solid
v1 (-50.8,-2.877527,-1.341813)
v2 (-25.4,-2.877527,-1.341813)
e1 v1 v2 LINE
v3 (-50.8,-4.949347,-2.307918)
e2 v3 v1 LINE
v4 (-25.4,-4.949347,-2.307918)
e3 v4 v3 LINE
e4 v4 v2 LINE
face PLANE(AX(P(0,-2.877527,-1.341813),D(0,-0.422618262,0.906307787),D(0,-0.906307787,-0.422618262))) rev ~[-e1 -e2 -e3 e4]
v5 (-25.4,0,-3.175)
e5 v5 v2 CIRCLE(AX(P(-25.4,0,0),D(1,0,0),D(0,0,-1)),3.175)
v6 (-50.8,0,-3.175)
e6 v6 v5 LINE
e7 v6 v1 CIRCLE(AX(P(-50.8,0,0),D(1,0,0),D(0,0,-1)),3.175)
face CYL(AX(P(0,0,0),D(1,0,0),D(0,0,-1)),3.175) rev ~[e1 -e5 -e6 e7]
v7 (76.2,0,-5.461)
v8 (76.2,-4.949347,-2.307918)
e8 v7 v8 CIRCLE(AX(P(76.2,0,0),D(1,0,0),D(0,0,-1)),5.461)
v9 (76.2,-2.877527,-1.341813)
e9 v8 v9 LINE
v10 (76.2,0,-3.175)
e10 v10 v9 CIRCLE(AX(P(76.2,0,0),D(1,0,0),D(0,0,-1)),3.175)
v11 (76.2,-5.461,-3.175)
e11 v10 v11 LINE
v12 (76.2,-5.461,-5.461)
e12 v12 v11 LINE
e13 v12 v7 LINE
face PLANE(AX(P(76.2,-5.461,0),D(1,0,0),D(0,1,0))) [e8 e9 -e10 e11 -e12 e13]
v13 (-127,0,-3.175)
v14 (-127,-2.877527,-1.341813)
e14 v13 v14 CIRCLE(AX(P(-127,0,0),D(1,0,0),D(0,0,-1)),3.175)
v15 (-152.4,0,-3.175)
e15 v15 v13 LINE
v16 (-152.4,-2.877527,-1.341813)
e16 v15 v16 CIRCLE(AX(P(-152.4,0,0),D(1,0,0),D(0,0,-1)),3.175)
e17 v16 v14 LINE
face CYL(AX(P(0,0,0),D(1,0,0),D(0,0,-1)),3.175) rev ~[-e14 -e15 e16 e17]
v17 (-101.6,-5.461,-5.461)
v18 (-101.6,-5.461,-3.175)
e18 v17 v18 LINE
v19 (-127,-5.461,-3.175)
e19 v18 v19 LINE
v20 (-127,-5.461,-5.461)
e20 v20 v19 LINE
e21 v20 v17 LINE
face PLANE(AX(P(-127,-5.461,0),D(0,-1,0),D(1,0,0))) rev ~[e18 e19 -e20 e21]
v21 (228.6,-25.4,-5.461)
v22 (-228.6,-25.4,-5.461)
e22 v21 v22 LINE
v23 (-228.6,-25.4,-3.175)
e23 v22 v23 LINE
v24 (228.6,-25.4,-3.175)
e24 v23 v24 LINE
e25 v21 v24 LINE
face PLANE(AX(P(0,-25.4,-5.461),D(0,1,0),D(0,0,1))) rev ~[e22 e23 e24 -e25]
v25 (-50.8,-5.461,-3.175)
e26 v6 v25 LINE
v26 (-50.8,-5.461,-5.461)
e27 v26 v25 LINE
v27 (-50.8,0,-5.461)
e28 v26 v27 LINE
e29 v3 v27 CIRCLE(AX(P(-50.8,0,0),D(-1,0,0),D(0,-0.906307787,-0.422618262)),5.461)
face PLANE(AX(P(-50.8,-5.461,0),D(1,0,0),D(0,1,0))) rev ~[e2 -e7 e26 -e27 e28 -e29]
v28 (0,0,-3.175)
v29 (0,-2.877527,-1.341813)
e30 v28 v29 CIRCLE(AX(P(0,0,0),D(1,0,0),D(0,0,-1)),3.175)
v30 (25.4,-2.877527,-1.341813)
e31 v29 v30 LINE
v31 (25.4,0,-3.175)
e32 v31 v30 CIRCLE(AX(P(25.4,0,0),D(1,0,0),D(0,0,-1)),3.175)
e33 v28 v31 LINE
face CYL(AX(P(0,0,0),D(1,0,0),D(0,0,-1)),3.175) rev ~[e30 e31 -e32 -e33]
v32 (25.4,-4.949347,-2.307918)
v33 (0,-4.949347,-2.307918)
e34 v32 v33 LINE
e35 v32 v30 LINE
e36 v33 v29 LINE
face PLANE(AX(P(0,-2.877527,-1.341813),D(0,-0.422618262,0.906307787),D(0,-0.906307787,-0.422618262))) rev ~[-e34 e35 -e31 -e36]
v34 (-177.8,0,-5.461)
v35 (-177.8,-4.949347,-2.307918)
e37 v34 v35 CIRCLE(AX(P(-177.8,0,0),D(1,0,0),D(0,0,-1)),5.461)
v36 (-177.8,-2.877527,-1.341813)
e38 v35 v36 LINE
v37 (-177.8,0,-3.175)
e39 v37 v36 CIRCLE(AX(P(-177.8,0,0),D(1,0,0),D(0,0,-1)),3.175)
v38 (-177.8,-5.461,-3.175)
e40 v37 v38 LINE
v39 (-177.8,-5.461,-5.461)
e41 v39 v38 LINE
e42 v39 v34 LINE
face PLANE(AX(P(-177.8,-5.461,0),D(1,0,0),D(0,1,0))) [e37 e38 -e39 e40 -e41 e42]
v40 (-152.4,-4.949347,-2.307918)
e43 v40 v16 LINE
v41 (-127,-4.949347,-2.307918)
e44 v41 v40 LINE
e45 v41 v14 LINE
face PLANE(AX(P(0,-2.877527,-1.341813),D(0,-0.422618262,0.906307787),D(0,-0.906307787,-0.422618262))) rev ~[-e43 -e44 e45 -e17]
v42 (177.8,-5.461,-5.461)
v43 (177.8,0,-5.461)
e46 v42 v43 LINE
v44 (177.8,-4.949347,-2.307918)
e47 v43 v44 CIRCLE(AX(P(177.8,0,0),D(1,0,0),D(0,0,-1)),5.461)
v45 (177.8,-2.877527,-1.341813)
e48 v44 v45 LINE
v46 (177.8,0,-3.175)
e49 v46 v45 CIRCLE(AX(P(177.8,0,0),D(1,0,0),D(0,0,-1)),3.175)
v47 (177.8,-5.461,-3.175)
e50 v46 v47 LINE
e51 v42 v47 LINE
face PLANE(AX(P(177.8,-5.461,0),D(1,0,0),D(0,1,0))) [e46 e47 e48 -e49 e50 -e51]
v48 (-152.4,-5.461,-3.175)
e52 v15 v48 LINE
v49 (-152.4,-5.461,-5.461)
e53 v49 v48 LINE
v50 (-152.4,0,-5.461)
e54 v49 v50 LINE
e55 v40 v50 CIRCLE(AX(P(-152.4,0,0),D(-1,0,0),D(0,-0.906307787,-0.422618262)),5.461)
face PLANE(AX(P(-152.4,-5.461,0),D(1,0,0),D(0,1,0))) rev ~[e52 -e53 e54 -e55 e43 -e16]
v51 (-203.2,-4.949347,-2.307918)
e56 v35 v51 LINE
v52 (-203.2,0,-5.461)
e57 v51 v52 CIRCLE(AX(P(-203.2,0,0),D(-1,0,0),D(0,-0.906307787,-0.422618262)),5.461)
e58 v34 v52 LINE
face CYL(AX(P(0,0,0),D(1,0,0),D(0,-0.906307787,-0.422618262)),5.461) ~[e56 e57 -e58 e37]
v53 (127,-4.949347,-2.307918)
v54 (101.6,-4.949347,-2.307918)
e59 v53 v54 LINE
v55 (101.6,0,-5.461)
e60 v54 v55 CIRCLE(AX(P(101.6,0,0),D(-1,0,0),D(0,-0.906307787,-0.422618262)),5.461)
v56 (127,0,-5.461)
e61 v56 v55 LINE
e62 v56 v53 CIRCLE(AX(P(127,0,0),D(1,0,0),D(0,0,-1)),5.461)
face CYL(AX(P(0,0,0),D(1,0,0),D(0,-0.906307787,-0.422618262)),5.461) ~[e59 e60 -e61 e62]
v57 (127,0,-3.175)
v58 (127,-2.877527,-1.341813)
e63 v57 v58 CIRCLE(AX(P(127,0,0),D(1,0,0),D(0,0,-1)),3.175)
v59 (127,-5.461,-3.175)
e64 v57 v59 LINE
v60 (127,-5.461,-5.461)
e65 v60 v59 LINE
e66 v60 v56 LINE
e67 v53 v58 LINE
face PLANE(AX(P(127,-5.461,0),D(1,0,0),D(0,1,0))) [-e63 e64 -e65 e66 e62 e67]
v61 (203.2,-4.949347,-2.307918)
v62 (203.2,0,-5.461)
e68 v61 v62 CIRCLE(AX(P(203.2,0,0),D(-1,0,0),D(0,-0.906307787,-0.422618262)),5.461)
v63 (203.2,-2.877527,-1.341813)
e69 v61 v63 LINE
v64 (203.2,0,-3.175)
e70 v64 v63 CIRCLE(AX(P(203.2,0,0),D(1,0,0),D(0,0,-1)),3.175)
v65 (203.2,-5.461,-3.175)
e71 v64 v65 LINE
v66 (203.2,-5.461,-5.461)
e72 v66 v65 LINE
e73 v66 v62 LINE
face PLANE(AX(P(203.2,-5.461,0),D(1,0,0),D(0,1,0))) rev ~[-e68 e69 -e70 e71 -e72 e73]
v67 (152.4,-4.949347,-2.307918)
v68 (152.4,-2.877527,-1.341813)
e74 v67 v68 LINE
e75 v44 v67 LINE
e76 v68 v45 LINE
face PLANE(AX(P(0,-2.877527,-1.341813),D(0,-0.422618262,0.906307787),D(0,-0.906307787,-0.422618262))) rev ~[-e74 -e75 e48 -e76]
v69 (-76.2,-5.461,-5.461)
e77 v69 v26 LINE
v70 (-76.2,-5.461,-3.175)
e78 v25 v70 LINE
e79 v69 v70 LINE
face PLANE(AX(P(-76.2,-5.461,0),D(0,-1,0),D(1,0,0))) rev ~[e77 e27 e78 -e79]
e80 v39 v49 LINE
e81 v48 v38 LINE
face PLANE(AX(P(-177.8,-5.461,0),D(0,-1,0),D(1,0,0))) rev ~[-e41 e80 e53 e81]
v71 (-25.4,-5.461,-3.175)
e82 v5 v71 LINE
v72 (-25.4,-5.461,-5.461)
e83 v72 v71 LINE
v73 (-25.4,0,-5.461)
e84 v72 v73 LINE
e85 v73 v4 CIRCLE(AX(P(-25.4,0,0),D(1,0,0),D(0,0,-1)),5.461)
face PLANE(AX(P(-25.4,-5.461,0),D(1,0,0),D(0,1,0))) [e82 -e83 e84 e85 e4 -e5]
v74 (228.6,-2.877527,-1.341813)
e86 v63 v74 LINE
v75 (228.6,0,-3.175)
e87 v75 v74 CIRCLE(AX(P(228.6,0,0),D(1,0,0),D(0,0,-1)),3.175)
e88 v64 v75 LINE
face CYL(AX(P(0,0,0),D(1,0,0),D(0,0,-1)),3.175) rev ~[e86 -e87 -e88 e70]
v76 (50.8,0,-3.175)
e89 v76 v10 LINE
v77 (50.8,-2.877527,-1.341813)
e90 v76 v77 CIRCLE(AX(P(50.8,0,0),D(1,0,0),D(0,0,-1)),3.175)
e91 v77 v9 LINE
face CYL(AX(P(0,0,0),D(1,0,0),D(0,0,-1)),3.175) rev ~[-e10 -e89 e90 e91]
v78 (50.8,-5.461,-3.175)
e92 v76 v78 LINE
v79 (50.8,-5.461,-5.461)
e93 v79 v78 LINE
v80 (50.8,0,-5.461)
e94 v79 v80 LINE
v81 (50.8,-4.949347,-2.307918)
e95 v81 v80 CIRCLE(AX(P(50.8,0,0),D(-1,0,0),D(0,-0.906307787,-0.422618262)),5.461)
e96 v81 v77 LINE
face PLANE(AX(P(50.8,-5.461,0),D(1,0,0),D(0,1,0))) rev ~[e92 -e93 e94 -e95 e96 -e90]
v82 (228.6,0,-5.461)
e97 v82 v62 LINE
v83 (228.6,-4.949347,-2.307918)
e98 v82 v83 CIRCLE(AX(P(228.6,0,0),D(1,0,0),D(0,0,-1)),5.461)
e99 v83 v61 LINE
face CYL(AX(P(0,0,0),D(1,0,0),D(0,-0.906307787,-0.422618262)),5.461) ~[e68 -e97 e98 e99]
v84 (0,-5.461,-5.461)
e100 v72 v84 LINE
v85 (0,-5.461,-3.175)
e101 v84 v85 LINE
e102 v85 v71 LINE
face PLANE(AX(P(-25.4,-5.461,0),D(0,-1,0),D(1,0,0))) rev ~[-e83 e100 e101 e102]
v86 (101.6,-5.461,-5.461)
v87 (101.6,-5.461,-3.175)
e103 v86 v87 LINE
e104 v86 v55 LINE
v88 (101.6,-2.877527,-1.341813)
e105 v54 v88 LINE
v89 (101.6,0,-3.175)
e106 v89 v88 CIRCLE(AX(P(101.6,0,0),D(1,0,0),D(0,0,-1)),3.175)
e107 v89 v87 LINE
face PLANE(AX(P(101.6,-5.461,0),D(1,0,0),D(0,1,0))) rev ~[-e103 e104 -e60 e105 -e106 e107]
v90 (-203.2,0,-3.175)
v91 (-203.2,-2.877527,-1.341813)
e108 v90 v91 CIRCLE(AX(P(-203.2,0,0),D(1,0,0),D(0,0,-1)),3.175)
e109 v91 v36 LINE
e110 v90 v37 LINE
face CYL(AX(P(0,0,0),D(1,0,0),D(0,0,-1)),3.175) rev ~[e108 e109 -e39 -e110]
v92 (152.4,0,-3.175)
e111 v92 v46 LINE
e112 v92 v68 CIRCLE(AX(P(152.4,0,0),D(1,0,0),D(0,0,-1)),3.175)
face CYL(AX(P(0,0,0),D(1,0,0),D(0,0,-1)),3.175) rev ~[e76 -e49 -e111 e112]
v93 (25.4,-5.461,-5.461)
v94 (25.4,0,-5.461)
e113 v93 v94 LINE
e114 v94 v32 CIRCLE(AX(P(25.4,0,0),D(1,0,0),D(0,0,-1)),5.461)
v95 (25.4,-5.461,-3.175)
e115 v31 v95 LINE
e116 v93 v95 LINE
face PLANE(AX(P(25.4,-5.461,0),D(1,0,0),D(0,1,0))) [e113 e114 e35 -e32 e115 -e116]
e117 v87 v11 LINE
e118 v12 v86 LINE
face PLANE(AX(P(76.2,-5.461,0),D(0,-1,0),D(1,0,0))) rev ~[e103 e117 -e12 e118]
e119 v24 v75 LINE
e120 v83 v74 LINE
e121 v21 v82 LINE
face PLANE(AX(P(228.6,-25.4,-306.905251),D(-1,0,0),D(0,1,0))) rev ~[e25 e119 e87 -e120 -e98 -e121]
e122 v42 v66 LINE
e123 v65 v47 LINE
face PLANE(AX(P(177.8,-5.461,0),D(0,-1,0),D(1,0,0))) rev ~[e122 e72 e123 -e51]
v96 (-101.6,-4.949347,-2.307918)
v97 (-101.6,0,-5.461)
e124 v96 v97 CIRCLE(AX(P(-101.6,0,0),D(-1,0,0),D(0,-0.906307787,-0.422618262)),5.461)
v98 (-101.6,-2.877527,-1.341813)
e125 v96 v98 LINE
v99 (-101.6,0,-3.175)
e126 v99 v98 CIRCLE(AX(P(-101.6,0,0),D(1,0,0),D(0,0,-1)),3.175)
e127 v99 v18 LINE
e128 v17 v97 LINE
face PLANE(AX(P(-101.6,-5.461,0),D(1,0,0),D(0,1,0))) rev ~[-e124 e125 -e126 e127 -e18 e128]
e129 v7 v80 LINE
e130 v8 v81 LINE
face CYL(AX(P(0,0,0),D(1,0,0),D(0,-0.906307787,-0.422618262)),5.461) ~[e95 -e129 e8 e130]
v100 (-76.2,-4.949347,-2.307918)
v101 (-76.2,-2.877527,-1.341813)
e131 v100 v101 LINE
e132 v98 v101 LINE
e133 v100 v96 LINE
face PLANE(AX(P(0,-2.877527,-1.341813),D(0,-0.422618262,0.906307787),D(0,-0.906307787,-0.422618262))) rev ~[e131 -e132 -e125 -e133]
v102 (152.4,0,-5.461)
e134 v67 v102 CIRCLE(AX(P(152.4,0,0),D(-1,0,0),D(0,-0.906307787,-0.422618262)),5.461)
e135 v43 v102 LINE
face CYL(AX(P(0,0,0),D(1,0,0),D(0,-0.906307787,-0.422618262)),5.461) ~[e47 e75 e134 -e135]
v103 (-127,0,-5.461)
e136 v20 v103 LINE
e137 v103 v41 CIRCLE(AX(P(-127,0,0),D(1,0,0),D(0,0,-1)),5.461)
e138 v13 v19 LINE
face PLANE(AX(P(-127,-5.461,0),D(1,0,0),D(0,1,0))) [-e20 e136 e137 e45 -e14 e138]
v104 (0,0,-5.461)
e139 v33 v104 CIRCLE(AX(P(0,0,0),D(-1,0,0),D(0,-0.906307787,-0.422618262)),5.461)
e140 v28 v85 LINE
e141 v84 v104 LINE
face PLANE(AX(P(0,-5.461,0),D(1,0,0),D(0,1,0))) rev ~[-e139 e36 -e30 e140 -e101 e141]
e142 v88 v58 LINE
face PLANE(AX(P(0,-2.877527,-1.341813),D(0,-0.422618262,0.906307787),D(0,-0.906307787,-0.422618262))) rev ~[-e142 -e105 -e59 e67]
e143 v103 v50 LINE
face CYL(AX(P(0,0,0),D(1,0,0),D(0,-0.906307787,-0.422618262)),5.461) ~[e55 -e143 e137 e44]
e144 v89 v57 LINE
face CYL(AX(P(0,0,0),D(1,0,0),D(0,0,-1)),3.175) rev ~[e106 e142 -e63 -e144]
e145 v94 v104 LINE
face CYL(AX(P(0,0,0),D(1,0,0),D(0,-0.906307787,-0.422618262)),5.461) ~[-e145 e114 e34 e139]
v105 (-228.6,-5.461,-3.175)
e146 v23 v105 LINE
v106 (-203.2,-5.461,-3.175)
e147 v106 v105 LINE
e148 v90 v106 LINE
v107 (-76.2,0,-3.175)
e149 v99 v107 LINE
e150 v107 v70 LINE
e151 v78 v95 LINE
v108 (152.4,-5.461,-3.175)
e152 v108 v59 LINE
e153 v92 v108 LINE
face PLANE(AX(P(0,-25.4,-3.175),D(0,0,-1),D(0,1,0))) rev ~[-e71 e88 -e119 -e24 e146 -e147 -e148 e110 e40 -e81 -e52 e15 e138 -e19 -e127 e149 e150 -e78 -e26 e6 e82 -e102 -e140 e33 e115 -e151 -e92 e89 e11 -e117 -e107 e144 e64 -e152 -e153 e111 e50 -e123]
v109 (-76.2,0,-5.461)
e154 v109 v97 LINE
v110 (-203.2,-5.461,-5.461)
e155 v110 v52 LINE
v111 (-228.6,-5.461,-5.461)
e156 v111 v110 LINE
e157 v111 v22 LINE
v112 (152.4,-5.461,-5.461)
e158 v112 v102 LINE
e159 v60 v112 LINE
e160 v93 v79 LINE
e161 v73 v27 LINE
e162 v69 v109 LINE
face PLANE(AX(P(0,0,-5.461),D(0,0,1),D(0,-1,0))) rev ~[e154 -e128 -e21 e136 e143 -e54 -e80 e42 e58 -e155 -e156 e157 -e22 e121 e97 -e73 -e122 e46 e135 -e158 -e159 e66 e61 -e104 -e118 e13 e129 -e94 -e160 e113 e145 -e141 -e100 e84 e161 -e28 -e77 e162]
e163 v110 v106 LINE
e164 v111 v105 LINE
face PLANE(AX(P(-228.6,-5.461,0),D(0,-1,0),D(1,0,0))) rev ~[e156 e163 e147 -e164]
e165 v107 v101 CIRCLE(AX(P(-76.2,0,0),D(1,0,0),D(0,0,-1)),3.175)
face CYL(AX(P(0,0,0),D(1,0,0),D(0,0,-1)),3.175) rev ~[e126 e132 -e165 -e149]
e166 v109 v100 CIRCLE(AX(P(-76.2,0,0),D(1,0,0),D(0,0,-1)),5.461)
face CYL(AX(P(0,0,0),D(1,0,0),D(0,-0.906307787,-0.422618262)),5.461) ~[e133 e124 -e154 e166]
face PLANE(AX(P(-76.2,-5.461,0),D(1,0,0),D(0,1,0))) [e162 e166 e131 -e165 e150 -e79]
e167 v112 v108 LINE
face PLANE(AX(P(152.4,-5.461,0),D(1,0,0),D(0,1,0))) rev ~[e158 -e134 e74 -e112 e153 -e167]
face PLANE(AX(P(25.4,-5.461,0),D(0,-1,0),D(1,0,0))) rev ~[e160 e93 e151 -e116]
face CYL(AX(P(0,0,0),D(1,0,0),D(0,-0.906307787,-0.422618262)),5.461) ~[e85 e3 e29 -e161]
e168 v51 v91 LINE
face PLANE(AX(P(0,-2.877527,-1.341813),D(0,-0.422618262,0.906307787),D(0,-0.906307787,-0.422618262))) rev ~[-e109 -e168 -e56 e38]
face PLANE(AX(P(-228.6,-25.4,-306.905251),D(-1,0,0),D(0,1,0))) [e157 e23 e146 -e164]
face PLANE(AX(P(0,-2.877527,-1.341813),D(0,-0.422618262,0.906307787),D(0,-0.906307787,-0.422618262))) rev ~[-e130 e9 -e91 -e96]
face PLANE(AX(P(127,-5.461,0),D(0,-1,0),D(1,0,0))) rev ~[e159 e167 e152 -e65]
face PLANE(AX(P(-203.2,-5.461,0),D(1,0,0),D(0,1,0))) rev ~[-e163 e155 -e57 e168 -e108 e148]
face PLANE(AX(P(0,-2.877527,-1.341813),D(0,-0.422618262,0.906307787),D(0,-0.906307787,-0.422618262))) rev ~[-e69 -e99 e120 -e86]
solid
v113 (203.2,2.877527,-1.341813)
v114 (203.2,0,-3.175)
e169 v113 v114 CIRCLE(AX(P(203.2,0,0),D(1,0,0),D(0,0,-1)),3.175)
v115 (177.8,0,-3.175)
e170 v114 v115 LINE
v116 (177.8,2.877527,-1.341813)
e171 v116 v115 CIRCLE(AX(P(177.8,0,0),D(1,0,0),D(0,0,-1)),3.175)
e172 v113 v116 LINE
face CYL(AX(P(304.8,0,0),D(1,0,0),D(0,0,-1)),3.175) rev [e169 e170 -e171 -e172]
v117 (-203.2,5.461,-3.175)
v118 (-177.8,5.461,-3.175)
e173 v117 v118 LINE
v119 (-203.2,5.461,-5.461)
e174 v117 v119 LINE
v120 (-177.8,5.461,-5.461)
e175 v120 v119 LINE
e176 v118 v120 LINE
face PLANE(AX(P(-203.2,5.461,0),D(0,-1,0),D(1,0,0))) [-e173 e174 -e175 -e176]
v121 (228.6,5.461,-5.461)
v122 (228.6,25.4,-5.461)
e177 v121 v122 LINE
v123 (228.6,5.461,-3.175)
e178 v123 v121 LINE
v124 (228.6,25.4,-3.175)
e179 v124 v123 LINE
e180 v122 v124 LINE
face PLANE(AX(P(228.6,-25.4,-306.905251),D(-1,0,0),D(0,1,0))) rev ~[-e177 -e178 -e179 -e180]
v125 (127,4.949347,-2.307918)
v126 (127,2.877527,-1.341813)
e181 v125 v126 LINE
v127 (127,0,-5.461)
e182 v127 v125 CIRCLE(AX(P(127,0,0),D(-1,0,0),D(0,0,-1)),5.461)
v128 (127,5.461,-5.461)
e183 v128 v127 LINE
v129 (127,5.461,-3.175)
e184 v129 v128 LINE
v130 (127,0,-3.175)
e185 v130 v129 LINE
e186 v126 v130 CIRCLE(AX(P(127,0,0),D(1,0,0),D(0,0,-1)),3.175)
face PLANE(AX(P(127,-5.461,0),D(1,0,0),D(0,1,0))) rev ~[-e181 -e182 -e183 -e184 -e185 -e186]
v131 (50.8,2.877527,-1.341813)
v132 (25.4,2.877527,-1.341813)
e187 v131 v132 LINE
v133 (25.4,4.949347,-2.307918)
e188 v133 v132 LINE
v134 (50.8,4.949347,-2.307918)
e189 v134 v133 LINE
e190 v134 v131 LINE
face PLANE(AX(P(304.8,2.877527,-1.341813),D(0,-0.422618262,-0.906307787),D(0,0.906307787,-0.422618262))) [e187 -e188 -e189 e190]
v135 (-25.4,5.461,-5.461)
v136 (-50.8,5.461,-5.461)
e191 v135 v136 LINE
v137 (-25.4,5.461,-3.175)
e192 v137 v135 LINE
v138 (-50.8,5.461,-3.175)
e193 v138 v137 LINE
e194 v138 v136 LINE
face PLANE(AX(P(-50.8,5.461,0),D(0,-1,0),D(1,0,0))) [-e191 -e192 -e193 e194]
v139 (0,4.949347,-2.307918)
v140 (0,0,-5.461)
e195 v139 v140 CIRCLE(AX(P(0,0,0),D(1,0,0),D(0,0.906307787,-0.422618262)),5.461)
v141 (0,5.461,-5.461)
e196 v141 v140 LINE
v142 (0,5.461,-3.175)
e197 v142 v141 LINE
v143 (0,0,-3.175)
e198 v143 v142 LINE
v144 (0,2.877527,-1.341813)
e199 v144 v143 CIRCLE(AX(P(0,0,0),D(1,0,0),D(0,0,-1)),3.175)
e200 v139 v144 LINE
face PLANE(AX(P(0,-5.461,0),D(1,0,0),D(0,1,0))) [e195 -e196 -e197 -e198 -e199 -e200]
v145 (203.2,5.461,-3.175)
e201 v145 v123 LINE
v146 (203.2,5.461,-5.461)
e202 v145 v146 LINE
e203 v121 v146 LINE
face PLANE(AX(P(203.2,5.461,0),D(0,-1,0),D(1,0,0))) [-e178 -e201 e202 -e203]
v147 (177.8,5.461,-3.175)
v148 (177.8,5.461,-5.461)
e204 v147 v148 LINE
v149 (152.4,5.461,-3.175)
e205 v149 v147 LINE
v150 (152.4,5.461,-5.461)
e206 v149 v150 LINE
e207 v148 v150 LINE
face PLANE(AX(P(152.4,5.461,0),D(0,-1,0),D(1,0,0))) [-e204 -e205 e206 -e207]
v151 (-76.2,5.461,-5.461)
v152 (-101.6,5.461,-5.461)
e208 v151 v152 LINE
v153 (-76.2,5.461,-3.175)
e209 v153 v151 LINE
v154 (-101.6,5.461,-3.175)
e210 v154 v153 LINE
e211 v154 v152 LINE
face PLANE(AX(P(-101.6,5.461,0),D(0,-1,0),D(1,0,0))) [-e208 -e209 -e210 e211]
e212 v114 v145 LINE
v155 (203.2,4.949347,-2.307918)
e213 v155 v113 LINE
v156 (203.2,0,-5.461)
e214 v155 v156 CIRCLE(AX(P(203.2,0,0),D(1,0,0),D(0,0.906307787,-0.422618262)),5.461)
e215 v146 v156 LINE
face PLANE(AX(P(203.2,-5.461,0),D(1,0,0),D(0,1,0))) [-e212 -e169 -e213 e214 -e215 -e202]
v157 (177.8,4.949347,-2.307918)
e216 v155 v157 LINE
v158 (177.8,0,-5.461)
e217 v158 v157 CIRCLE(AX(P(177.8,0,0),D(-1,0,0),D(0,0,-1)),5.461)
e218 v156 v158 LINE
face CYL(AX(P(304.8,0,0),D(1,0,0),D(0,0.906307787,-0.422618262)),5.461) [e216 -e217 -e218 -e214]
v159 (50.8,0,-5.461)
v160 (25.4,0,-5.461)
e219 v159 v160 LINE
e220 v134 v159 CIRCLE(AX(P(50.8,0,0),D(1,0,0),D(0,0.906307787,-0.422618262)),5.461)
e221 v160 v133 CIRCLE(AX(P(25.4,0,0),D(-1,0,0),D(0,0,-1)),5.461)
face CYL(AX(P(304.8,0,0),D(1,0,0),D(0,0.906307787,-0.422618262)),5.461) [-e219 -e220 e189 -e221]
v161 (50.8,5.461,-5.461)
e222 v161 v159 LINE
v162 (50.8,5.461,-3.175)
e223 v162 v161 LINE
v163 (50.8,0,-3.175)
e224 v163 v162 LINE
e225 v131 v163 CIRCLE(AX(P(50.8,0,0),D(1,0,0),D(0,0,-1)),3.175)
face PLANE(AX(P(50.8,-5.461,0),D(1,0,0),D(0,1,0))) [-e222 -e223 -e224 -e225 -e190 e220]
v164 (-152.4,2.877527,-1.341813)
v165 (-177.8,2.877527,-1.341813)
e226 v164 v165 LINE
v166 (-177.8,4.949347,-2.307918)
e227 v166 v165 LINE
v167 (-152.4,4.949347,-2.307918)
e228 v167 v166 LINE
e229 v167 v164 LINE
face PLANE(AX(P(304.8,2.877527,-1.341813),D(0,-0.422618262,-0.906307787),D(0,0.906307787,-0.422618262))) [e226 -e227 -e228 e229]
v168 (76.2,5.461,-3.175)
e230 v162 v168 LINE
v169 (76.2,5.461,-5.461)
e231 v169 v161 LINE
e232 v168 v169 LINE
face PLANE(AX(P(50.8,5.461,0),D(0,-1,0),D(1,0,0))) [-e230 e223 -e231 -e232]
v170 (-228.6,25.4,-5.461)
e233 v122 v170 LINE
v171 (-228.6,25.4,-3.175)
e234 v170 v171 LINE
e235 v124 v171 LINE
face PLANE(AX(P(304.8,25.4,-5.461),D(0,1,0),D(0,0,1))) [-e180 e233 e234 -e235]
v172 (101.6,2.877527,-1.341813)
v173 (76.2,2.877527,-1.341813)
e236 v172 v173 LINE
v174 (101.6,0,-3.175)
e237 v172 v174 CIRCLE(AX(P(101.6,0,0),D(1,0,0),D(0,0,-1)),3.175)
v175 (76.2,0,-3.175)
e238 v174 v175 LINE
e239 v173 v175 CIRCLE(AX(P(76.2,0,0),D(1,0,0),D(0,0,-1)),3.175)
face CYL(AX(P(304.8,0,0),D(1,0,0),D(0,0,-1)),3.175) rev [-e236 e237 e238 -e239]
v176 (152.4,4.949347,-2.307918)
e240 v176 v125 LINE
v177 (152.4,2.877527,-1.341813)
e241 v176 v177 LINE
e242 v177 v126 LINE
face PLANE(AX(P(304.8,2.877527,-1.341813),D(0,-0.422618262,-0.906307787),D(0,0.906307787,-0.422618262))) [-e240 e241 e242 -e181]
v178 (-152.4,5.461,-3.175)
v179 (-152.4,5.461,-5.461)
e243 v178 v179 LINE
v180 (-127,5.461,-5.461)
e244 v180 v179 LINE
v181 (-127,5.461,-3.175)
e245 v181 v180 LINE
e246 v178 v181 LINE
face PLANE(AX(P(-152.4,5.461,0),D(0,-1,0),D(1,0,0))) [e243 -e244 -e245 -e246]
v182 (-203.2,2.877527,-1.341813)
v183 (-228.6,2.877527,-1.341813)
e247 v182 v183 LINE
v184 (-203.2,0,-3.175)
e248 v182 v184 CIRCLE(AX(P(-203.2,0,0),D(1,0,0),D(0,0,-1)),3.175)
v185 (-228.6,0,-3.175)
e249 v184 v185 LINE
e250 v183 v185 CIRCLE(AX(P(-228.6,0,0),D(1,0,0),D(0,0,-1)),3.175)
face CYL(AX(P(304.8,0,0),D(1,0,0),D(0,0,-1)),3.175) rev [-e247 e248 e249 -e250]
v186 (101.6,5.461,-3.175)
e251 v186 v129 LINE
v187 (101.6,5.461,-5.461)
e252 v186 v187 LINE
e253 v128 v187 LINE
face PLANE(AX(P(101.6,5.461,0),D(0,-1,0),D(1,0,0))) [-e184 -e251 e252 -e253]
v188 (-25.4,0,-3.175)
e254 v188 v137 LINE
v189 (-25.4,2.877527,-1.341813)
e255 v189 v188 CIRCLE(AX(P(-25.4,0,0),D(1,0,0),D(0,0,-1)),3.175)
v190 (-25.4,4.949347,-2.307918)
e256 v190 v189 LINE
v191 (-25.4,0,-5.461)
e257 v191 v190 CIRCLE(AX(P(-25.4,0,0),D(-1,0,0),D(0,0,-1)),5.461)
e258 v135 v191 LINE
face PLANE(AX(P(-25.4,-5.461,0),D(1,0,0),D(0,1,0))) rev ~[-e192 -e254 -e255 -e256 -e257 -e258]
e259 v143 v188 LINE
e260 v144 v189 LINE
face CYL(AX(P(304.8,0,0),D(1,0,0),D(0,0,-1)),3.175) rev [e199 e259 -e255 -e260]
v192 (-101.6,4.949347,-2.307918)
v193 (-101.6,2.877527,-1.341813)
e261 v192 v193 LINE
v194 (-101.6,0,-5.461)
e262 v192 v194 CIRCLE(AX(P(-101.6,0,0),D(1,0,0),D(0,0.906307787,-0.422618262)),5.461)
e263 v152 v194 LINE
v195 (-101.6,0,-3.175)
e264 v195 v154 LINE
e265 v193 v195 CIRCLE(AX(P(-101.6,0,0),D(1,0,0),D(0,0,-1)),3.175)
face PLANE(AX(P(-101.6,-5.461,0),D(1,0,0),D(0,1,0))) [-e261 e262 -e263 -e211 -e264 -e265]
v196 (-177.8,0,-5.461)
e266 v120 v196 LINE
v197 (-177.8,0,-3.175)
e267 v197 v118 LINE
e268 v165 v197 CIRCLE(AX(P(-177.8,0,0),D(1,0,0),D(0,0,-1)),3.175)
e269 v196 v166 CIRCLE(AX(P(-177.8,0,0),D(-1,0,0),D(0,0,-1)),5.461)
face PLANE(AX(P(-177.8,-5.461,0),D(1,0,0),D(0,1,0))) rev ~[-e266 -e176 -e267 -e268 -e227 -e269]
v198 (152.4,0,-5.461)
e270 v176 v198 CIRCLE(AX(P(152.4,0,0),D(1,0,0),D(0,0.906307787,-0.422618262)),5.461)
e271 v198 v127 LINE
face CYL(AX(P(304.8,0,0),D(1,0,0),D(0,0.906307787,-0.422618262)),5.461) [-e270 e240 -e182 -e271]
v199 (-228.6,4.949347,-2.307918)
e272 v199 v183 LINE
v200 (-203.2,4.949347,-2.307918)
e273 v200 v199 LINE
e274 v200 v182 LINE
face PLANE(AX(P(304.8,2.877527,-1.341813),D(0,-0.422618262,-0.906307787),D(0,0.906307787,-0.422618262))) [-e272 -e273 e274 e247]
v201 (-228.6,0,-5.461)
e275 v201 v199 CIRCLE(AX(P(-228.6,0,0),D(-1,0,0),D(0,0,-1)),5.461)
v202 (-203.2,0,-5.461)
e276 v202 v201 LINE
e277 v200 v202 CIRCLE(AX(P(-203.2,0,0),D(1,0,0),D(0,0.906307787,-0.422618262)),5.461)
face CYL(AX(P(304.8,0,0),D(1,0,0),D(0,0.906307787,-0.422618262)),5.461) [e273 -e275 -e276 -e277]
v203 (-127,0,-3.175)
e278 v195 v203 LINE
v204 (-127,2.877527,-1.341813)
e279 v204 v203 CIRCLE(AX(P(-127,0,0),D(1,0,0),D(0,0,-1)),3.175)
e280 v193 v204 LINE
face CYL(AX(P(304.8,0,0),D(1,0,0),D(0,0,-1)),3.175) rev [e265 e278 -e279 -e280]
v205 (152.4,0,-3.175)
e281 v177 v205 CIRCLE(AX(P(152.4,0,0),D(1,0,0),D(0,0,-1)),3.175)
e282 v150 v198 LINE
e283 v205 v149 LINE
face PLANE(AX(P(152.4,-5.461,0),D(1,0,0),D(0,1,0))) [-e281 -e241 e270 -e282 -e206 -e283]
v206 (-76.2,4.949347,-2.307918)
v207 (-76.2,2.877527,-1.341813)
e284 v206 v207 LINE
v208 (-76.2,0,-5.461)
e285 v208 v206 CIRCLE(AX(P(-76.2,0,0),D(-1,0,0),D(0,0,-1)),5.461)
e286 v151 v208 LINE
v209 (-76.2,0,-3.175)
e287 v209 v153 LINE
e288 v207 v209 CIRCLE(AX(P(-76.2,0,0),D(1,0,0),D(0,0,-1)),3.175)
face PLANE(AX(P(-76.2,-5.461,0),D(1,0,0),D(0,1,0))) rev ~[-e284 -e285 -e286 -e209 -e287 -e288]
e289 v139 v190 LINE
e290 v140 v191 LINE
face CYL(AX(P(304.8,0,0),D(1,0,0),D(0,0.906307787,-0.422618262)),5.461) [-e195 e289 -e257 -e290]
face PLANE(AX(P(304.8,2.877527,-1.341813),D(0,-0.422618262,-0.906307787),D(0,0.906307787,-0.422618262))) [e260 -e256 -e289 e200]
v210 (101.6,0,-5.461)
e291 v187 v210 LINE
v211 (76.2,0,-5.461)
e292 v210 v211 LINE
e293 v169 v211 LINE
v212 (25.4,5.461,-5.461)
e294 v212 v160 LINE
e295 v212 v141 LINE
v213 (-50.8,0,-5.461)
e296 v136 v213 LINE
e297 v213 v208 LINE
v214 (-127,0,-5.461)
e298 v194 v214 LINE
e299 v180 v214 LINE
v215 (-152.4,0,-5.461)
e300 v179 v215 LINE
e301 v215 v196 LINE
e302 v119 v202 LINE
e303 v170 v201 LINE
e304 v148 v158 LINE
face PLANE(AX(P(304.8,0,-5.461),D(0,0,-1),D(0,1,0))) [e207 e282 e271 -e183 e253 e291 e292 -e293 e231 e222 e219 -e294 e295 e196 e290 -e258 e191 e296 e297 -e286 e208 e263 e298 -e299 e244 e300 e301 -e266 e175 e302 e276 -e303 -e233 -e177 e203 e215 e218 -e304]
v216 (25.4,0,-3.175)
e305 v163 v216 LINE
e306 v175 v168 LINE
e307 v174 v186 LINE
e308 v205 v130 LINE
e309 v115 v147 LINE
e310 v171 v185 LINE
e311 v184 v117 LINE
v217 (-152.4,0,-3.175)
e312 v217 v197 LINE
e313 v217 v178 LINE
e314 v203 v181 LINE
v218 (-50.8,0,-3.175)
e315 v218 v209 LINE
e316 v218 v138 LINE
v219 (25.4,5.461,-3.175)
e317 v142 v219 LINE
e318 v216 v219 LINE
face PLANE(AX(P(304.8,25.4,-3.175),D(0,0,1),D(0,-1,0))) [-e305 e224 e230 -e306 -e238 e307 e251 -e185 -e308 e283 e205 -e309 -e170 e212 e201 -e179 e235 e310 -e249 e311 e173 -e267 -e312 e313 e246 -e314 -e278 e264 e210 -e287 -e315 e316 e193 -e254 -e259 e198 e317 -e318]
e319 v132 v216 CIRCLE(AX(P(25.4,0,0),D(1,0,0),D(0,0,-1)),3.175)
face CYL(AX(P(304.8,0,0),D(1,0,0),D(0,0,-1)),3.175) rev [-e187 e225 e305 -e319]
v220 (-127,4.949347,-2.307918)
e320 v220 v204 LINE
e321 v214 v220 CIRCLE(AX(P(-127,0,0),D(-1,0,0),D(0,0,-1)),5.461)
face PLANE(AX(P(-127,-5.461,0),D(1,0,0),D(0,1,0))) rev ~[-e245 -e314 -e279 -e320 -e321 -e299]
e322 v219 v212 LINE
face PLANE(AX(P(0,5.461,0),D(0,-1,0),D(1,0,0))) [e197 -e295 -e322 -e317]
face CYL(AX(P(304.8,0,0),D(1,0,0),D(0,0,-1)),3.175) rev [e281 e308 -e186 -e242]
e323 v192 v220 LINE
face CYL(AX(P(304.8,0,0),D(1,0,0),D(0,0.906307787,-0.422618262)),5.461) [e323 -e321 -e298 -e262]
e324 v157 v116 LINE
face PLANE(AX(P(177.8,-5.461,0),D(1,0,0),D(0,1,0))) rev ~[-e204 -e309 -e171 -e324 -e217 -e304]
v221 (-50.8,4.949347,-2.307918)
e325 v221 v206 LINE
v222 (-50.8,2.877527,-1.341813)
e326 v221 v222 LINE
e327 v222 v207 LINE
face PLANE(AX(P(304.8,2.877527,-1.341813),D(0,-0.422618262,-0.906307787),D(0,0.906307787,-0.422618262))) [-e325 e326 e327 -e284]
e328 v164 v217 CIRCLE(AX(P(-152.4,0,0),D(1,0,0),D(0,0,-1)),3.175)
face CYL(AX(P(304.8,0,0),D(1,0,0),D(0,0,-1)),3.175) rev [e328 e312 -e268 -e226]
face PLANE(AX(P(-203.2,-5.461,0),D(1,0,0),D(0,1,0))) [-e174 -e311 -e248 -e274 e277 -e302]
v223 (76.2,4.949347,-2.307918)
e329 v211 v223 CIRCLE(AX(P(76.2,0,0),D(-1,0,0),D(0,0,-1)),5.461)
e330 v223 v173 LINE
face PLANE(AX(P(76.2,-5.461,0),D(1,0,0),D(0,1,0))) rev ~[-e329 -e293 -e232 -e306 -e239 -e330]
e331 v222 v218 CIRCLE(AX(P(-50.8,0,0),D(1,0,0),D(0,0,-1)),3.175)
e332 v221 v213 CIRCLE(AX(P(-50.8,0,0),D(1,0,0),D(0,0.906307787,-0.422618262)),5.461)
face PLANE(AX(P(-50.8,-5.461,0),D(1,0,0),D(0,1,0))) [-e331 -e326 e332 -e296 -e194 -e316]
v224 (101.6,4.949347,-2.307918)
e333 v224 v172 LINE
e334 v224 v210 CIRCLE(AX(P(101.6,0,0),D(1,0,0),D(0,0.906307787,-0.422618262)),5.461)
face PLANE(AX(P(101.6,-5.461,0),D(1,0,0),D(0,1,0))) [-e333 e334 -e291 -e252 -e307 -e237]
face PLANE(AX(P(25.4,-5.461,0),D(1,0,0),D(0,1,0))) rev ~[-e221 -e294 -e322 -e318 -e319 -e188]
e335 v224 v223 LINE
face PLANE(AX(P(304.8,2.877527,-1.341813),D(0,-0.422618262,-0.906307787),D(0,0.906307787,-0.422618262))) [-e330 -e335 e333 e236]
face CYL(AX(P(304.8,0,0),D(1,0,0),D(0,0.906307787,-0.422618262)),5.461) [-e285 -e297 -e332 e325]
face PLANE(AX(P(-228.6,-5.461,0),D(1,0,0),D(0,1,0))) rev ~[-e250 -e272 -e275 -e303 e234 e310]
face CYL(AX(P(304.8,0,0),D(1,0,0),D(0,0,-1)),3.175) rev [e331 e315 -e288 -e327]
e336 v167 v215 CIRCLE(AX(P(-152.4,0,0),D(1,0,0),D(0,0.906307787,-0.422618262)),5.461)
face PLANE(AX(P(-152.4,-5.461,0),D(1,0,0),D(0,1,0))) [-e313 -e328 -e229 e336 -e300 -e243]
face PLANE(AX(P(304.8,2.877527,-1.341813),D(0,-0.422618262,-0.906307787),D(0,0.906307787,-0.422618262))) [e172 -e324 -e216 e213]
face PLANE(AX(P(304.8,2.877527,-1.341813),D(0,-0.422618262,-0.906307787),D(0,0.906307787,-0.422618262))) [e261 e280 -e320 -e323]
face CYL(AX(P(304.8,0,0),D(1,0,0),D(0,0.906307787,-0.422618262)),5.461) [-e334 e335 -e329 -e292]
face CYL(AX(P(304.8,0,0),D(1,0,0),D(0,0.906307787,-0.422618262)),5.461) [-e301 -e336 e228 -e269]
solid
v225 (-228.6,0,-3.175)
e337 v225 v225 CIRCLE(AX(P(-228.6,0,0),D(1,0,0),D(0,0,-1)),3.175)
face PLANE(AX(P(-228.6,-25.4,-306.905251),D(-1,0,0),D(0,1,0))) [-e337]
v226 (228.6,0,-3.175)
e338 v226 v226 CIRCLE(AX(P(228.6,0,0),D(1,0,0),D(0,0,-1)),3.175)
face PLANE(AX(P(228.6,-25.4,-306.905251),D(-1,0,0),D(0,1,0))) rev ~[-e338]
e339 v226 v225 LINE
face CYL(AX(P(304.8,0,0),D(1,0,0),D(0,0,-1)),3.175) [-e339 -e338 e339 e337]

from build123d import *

# Parameters (mm, degrees)
BOSS_EXTRUDE1_DEPTH     = 304.8
SKETCH4_W               = 25.4
SKETCH4_H               = 10.922
CUT_EXTRUDE1_DEPTH      = 306.905250888
LPATTERN1_COUNT         = 12
LPATTERN1_PITCH         = 50.8
BOSS_EXTRUDE2_DEPTH     = 609.6
SKETCH6_W               = 25.4
SKETCH6_H               = 10.922
CUT_EXTRUDE2_DEPTH      = 306.905250888
LPATTERN2_COUNT         = 12
LPATTERN2_PITCH         = 50.8
SKETCH7_R               = 3.175
BOSS_EXTRUDE3_DEPTH     = 609.6
CHAMFER1_SIZE           = 0.635
CUT_EXTRUDE3_DEPTH      = 306.905250888
CUT_EXTRUDE3_DEPTH_BACK = 306.905250888
SKETCH8_OUTSIDE_W       = 733.962
SKETCH8_OUTSIDE_H       = 175.162
SKETCH8_OUTSIDE_W_2     = 457.2
SKETCH8_OUTSIDE_H_2     = 50.8


with BuildPart() as part:
    # Sketch3 → Boss-Extrude1 (new, symmetric)
    with BuildSketch(Plane(origin=(0, 0, 0), x_dir=(0, 0, -1), z_dir=(1, 0, 0))):
        with BuildLine():
            Line((1.341812981, -2.877527224), (2.307918327, -4.949346825))
            ThreePointArc((2.307918327, -4.949346825), (-4.605760686, 2.934193161), (5.461, 0))
            Line((5.461, 0), (5.461, -25.4))
            Line((5.461, -25.4), (3.175, -25.4))
            Line((3.175, -25.4), (3.175, -4.443185344))
            Line((3.175, -4.443185344), (3.175, 0))
            ThreePointArc((3.175, 0), (-2.67776784, 1.705926257), (1.341812981, -2.877527224))
        make_face()
    extrude(amount=BOSS_EXTRUDE1_DEPTH, both=True)

    # Sketch4 → Cut-Extrude1 (cut, symmetric)
    with BuildSketch(Plane.XY):
        with Locations((292.1, 0)):
            Rectangle(SKETCH4_W, SKETCH4_H)
    cut_extrude1 = extrude(amount=CUT_EXTRUDE1_DEPTH, both=True, mode=Mode.SUBTRACT)

    # LPattern1: Cut-Extrude1 ×12
    with Locations(*[(-i * LPATTERN1_PITCH, 0, 0) for i in range(1, LPATTERN1_COUNT)]):
        add(cut_extrude1, mode=Mode.SUBTRACT)


with BuildPart() as body_2:
    # Sketch5 → Boss-Extrude2 (new body)
    with BuildSketch(Plane(origin=(304.8, 0, 0), x_dir=(0, 0, -1), z_dir=(1, 0, 0))):
        with BuildLine():
            Line((3.175, 25.4), (3.175, 4.443185344))
            Line((3.175, 4.443185344), (3.175, 0))
            ThreePointArc((3.175, 0), (-2.67776784, -1.705926257), (1.341812981, 2.877527224))
            Line((1.341812981, 2.877527224), (2.307918327, 4.949346825))
            ThreePointArc((2.307918327, 4.949346825), (-4.605760686, -2.934193161), (5.461, 0))
            Line((5.461, 0), (5.461, 25.4))
            Line((5.461, 25.4), (3.175, 25.4))
        make_face()
    extrude(amount=-BOSS_EXTRUDE2_DEPTH)

    # Sketch6 → Cut-Extrude2 (cut, symmetric)
    with BuildSketch(Plane.XY):
        with Locations((266.7, 0)):
            Rectangle(SKETCH6_W, SKETCH6_H)
    cut_extrude2 = extrude(amount=CUT_EXTRUDE2_DEPTH, both=True, mode=Mode.SUBTRACT)

    # LPattern2: Cut-Extrude2 ×12
    with Locations(*[(-i * LPATTERN2_PITCH, 0, 0) for i in range(1, LPATTERN2_COUNT)]):
        add(cut_extrude2, mode=Mode.SUBTRACT)


with BuildPart() as body_3:
    # Sketch7 → Boss-Extrude3 (new body)
    with BuildSketch(Plane(origin=(304.8, 0, 0), x_dir=(0, 0, -1), z_dir=(1, 0, 0))):
        Circle(SKETCH7_R)
    extrude(amount=-BOSS_EXTRUDE3_DEPTH)

    # Chamfer1
    chamfer1_edges = [body_3.edges().sort_by_distance(p)[0] for p in [
        (304.8, 0, 3.175),
        (-304.8, 0, 3.175),
    ]]
    chamfer(chamfer1_edges, length=CHAMFER1_SIZE)


with BuildPart() as cut_extrude3_tool:
    # Sketch8 outside → Cut-Extrude3 (new, two sides: drawn at the far end of the back side and taken through both)
    with BuildSketch(Plane.XY.offset(-CUT_EXTRUDE3_DEPTH_BACK)):
        Rectangle(SKETCH8_OUTSIDE_W, SKETCH8_OUTSIDE_H)
        Rectangle(SKETCH8_OUTSIDE_W_2, SKETCH8_OUTSIDE_H_2, mode=Mode.SUBTRACT)
    extrude(amount=CUT_EXTRUDE3_DEPTH + CUT_EXTRUDE3_DEPTH_BACK)


with BuildPart() as part_1:
    add(part.part)

    # Cut-Extrude3: cut by cut_extrude3_tool
    add(cut_extrude3_tool.part, mode=Mode.SUBTRACT)


with BuildPart() as body_2_1:
    add(body_2.part)

    # Cut-Extrude3: cut by cut_extrude3_tool
    add(cut_extrude3_tool.part, mode=Mode.SUBTRACT)


with BuildPart() as body_3_1:
    add(body_3.part)

    # Cut-Extrude3: cut by cut_extrude3_tool
    add(cut_extrude3_tool.part, mode=Mode.SUBTRACT)


solid = Compound([part_1.part, body_2_1.part, body_3_1.part])
